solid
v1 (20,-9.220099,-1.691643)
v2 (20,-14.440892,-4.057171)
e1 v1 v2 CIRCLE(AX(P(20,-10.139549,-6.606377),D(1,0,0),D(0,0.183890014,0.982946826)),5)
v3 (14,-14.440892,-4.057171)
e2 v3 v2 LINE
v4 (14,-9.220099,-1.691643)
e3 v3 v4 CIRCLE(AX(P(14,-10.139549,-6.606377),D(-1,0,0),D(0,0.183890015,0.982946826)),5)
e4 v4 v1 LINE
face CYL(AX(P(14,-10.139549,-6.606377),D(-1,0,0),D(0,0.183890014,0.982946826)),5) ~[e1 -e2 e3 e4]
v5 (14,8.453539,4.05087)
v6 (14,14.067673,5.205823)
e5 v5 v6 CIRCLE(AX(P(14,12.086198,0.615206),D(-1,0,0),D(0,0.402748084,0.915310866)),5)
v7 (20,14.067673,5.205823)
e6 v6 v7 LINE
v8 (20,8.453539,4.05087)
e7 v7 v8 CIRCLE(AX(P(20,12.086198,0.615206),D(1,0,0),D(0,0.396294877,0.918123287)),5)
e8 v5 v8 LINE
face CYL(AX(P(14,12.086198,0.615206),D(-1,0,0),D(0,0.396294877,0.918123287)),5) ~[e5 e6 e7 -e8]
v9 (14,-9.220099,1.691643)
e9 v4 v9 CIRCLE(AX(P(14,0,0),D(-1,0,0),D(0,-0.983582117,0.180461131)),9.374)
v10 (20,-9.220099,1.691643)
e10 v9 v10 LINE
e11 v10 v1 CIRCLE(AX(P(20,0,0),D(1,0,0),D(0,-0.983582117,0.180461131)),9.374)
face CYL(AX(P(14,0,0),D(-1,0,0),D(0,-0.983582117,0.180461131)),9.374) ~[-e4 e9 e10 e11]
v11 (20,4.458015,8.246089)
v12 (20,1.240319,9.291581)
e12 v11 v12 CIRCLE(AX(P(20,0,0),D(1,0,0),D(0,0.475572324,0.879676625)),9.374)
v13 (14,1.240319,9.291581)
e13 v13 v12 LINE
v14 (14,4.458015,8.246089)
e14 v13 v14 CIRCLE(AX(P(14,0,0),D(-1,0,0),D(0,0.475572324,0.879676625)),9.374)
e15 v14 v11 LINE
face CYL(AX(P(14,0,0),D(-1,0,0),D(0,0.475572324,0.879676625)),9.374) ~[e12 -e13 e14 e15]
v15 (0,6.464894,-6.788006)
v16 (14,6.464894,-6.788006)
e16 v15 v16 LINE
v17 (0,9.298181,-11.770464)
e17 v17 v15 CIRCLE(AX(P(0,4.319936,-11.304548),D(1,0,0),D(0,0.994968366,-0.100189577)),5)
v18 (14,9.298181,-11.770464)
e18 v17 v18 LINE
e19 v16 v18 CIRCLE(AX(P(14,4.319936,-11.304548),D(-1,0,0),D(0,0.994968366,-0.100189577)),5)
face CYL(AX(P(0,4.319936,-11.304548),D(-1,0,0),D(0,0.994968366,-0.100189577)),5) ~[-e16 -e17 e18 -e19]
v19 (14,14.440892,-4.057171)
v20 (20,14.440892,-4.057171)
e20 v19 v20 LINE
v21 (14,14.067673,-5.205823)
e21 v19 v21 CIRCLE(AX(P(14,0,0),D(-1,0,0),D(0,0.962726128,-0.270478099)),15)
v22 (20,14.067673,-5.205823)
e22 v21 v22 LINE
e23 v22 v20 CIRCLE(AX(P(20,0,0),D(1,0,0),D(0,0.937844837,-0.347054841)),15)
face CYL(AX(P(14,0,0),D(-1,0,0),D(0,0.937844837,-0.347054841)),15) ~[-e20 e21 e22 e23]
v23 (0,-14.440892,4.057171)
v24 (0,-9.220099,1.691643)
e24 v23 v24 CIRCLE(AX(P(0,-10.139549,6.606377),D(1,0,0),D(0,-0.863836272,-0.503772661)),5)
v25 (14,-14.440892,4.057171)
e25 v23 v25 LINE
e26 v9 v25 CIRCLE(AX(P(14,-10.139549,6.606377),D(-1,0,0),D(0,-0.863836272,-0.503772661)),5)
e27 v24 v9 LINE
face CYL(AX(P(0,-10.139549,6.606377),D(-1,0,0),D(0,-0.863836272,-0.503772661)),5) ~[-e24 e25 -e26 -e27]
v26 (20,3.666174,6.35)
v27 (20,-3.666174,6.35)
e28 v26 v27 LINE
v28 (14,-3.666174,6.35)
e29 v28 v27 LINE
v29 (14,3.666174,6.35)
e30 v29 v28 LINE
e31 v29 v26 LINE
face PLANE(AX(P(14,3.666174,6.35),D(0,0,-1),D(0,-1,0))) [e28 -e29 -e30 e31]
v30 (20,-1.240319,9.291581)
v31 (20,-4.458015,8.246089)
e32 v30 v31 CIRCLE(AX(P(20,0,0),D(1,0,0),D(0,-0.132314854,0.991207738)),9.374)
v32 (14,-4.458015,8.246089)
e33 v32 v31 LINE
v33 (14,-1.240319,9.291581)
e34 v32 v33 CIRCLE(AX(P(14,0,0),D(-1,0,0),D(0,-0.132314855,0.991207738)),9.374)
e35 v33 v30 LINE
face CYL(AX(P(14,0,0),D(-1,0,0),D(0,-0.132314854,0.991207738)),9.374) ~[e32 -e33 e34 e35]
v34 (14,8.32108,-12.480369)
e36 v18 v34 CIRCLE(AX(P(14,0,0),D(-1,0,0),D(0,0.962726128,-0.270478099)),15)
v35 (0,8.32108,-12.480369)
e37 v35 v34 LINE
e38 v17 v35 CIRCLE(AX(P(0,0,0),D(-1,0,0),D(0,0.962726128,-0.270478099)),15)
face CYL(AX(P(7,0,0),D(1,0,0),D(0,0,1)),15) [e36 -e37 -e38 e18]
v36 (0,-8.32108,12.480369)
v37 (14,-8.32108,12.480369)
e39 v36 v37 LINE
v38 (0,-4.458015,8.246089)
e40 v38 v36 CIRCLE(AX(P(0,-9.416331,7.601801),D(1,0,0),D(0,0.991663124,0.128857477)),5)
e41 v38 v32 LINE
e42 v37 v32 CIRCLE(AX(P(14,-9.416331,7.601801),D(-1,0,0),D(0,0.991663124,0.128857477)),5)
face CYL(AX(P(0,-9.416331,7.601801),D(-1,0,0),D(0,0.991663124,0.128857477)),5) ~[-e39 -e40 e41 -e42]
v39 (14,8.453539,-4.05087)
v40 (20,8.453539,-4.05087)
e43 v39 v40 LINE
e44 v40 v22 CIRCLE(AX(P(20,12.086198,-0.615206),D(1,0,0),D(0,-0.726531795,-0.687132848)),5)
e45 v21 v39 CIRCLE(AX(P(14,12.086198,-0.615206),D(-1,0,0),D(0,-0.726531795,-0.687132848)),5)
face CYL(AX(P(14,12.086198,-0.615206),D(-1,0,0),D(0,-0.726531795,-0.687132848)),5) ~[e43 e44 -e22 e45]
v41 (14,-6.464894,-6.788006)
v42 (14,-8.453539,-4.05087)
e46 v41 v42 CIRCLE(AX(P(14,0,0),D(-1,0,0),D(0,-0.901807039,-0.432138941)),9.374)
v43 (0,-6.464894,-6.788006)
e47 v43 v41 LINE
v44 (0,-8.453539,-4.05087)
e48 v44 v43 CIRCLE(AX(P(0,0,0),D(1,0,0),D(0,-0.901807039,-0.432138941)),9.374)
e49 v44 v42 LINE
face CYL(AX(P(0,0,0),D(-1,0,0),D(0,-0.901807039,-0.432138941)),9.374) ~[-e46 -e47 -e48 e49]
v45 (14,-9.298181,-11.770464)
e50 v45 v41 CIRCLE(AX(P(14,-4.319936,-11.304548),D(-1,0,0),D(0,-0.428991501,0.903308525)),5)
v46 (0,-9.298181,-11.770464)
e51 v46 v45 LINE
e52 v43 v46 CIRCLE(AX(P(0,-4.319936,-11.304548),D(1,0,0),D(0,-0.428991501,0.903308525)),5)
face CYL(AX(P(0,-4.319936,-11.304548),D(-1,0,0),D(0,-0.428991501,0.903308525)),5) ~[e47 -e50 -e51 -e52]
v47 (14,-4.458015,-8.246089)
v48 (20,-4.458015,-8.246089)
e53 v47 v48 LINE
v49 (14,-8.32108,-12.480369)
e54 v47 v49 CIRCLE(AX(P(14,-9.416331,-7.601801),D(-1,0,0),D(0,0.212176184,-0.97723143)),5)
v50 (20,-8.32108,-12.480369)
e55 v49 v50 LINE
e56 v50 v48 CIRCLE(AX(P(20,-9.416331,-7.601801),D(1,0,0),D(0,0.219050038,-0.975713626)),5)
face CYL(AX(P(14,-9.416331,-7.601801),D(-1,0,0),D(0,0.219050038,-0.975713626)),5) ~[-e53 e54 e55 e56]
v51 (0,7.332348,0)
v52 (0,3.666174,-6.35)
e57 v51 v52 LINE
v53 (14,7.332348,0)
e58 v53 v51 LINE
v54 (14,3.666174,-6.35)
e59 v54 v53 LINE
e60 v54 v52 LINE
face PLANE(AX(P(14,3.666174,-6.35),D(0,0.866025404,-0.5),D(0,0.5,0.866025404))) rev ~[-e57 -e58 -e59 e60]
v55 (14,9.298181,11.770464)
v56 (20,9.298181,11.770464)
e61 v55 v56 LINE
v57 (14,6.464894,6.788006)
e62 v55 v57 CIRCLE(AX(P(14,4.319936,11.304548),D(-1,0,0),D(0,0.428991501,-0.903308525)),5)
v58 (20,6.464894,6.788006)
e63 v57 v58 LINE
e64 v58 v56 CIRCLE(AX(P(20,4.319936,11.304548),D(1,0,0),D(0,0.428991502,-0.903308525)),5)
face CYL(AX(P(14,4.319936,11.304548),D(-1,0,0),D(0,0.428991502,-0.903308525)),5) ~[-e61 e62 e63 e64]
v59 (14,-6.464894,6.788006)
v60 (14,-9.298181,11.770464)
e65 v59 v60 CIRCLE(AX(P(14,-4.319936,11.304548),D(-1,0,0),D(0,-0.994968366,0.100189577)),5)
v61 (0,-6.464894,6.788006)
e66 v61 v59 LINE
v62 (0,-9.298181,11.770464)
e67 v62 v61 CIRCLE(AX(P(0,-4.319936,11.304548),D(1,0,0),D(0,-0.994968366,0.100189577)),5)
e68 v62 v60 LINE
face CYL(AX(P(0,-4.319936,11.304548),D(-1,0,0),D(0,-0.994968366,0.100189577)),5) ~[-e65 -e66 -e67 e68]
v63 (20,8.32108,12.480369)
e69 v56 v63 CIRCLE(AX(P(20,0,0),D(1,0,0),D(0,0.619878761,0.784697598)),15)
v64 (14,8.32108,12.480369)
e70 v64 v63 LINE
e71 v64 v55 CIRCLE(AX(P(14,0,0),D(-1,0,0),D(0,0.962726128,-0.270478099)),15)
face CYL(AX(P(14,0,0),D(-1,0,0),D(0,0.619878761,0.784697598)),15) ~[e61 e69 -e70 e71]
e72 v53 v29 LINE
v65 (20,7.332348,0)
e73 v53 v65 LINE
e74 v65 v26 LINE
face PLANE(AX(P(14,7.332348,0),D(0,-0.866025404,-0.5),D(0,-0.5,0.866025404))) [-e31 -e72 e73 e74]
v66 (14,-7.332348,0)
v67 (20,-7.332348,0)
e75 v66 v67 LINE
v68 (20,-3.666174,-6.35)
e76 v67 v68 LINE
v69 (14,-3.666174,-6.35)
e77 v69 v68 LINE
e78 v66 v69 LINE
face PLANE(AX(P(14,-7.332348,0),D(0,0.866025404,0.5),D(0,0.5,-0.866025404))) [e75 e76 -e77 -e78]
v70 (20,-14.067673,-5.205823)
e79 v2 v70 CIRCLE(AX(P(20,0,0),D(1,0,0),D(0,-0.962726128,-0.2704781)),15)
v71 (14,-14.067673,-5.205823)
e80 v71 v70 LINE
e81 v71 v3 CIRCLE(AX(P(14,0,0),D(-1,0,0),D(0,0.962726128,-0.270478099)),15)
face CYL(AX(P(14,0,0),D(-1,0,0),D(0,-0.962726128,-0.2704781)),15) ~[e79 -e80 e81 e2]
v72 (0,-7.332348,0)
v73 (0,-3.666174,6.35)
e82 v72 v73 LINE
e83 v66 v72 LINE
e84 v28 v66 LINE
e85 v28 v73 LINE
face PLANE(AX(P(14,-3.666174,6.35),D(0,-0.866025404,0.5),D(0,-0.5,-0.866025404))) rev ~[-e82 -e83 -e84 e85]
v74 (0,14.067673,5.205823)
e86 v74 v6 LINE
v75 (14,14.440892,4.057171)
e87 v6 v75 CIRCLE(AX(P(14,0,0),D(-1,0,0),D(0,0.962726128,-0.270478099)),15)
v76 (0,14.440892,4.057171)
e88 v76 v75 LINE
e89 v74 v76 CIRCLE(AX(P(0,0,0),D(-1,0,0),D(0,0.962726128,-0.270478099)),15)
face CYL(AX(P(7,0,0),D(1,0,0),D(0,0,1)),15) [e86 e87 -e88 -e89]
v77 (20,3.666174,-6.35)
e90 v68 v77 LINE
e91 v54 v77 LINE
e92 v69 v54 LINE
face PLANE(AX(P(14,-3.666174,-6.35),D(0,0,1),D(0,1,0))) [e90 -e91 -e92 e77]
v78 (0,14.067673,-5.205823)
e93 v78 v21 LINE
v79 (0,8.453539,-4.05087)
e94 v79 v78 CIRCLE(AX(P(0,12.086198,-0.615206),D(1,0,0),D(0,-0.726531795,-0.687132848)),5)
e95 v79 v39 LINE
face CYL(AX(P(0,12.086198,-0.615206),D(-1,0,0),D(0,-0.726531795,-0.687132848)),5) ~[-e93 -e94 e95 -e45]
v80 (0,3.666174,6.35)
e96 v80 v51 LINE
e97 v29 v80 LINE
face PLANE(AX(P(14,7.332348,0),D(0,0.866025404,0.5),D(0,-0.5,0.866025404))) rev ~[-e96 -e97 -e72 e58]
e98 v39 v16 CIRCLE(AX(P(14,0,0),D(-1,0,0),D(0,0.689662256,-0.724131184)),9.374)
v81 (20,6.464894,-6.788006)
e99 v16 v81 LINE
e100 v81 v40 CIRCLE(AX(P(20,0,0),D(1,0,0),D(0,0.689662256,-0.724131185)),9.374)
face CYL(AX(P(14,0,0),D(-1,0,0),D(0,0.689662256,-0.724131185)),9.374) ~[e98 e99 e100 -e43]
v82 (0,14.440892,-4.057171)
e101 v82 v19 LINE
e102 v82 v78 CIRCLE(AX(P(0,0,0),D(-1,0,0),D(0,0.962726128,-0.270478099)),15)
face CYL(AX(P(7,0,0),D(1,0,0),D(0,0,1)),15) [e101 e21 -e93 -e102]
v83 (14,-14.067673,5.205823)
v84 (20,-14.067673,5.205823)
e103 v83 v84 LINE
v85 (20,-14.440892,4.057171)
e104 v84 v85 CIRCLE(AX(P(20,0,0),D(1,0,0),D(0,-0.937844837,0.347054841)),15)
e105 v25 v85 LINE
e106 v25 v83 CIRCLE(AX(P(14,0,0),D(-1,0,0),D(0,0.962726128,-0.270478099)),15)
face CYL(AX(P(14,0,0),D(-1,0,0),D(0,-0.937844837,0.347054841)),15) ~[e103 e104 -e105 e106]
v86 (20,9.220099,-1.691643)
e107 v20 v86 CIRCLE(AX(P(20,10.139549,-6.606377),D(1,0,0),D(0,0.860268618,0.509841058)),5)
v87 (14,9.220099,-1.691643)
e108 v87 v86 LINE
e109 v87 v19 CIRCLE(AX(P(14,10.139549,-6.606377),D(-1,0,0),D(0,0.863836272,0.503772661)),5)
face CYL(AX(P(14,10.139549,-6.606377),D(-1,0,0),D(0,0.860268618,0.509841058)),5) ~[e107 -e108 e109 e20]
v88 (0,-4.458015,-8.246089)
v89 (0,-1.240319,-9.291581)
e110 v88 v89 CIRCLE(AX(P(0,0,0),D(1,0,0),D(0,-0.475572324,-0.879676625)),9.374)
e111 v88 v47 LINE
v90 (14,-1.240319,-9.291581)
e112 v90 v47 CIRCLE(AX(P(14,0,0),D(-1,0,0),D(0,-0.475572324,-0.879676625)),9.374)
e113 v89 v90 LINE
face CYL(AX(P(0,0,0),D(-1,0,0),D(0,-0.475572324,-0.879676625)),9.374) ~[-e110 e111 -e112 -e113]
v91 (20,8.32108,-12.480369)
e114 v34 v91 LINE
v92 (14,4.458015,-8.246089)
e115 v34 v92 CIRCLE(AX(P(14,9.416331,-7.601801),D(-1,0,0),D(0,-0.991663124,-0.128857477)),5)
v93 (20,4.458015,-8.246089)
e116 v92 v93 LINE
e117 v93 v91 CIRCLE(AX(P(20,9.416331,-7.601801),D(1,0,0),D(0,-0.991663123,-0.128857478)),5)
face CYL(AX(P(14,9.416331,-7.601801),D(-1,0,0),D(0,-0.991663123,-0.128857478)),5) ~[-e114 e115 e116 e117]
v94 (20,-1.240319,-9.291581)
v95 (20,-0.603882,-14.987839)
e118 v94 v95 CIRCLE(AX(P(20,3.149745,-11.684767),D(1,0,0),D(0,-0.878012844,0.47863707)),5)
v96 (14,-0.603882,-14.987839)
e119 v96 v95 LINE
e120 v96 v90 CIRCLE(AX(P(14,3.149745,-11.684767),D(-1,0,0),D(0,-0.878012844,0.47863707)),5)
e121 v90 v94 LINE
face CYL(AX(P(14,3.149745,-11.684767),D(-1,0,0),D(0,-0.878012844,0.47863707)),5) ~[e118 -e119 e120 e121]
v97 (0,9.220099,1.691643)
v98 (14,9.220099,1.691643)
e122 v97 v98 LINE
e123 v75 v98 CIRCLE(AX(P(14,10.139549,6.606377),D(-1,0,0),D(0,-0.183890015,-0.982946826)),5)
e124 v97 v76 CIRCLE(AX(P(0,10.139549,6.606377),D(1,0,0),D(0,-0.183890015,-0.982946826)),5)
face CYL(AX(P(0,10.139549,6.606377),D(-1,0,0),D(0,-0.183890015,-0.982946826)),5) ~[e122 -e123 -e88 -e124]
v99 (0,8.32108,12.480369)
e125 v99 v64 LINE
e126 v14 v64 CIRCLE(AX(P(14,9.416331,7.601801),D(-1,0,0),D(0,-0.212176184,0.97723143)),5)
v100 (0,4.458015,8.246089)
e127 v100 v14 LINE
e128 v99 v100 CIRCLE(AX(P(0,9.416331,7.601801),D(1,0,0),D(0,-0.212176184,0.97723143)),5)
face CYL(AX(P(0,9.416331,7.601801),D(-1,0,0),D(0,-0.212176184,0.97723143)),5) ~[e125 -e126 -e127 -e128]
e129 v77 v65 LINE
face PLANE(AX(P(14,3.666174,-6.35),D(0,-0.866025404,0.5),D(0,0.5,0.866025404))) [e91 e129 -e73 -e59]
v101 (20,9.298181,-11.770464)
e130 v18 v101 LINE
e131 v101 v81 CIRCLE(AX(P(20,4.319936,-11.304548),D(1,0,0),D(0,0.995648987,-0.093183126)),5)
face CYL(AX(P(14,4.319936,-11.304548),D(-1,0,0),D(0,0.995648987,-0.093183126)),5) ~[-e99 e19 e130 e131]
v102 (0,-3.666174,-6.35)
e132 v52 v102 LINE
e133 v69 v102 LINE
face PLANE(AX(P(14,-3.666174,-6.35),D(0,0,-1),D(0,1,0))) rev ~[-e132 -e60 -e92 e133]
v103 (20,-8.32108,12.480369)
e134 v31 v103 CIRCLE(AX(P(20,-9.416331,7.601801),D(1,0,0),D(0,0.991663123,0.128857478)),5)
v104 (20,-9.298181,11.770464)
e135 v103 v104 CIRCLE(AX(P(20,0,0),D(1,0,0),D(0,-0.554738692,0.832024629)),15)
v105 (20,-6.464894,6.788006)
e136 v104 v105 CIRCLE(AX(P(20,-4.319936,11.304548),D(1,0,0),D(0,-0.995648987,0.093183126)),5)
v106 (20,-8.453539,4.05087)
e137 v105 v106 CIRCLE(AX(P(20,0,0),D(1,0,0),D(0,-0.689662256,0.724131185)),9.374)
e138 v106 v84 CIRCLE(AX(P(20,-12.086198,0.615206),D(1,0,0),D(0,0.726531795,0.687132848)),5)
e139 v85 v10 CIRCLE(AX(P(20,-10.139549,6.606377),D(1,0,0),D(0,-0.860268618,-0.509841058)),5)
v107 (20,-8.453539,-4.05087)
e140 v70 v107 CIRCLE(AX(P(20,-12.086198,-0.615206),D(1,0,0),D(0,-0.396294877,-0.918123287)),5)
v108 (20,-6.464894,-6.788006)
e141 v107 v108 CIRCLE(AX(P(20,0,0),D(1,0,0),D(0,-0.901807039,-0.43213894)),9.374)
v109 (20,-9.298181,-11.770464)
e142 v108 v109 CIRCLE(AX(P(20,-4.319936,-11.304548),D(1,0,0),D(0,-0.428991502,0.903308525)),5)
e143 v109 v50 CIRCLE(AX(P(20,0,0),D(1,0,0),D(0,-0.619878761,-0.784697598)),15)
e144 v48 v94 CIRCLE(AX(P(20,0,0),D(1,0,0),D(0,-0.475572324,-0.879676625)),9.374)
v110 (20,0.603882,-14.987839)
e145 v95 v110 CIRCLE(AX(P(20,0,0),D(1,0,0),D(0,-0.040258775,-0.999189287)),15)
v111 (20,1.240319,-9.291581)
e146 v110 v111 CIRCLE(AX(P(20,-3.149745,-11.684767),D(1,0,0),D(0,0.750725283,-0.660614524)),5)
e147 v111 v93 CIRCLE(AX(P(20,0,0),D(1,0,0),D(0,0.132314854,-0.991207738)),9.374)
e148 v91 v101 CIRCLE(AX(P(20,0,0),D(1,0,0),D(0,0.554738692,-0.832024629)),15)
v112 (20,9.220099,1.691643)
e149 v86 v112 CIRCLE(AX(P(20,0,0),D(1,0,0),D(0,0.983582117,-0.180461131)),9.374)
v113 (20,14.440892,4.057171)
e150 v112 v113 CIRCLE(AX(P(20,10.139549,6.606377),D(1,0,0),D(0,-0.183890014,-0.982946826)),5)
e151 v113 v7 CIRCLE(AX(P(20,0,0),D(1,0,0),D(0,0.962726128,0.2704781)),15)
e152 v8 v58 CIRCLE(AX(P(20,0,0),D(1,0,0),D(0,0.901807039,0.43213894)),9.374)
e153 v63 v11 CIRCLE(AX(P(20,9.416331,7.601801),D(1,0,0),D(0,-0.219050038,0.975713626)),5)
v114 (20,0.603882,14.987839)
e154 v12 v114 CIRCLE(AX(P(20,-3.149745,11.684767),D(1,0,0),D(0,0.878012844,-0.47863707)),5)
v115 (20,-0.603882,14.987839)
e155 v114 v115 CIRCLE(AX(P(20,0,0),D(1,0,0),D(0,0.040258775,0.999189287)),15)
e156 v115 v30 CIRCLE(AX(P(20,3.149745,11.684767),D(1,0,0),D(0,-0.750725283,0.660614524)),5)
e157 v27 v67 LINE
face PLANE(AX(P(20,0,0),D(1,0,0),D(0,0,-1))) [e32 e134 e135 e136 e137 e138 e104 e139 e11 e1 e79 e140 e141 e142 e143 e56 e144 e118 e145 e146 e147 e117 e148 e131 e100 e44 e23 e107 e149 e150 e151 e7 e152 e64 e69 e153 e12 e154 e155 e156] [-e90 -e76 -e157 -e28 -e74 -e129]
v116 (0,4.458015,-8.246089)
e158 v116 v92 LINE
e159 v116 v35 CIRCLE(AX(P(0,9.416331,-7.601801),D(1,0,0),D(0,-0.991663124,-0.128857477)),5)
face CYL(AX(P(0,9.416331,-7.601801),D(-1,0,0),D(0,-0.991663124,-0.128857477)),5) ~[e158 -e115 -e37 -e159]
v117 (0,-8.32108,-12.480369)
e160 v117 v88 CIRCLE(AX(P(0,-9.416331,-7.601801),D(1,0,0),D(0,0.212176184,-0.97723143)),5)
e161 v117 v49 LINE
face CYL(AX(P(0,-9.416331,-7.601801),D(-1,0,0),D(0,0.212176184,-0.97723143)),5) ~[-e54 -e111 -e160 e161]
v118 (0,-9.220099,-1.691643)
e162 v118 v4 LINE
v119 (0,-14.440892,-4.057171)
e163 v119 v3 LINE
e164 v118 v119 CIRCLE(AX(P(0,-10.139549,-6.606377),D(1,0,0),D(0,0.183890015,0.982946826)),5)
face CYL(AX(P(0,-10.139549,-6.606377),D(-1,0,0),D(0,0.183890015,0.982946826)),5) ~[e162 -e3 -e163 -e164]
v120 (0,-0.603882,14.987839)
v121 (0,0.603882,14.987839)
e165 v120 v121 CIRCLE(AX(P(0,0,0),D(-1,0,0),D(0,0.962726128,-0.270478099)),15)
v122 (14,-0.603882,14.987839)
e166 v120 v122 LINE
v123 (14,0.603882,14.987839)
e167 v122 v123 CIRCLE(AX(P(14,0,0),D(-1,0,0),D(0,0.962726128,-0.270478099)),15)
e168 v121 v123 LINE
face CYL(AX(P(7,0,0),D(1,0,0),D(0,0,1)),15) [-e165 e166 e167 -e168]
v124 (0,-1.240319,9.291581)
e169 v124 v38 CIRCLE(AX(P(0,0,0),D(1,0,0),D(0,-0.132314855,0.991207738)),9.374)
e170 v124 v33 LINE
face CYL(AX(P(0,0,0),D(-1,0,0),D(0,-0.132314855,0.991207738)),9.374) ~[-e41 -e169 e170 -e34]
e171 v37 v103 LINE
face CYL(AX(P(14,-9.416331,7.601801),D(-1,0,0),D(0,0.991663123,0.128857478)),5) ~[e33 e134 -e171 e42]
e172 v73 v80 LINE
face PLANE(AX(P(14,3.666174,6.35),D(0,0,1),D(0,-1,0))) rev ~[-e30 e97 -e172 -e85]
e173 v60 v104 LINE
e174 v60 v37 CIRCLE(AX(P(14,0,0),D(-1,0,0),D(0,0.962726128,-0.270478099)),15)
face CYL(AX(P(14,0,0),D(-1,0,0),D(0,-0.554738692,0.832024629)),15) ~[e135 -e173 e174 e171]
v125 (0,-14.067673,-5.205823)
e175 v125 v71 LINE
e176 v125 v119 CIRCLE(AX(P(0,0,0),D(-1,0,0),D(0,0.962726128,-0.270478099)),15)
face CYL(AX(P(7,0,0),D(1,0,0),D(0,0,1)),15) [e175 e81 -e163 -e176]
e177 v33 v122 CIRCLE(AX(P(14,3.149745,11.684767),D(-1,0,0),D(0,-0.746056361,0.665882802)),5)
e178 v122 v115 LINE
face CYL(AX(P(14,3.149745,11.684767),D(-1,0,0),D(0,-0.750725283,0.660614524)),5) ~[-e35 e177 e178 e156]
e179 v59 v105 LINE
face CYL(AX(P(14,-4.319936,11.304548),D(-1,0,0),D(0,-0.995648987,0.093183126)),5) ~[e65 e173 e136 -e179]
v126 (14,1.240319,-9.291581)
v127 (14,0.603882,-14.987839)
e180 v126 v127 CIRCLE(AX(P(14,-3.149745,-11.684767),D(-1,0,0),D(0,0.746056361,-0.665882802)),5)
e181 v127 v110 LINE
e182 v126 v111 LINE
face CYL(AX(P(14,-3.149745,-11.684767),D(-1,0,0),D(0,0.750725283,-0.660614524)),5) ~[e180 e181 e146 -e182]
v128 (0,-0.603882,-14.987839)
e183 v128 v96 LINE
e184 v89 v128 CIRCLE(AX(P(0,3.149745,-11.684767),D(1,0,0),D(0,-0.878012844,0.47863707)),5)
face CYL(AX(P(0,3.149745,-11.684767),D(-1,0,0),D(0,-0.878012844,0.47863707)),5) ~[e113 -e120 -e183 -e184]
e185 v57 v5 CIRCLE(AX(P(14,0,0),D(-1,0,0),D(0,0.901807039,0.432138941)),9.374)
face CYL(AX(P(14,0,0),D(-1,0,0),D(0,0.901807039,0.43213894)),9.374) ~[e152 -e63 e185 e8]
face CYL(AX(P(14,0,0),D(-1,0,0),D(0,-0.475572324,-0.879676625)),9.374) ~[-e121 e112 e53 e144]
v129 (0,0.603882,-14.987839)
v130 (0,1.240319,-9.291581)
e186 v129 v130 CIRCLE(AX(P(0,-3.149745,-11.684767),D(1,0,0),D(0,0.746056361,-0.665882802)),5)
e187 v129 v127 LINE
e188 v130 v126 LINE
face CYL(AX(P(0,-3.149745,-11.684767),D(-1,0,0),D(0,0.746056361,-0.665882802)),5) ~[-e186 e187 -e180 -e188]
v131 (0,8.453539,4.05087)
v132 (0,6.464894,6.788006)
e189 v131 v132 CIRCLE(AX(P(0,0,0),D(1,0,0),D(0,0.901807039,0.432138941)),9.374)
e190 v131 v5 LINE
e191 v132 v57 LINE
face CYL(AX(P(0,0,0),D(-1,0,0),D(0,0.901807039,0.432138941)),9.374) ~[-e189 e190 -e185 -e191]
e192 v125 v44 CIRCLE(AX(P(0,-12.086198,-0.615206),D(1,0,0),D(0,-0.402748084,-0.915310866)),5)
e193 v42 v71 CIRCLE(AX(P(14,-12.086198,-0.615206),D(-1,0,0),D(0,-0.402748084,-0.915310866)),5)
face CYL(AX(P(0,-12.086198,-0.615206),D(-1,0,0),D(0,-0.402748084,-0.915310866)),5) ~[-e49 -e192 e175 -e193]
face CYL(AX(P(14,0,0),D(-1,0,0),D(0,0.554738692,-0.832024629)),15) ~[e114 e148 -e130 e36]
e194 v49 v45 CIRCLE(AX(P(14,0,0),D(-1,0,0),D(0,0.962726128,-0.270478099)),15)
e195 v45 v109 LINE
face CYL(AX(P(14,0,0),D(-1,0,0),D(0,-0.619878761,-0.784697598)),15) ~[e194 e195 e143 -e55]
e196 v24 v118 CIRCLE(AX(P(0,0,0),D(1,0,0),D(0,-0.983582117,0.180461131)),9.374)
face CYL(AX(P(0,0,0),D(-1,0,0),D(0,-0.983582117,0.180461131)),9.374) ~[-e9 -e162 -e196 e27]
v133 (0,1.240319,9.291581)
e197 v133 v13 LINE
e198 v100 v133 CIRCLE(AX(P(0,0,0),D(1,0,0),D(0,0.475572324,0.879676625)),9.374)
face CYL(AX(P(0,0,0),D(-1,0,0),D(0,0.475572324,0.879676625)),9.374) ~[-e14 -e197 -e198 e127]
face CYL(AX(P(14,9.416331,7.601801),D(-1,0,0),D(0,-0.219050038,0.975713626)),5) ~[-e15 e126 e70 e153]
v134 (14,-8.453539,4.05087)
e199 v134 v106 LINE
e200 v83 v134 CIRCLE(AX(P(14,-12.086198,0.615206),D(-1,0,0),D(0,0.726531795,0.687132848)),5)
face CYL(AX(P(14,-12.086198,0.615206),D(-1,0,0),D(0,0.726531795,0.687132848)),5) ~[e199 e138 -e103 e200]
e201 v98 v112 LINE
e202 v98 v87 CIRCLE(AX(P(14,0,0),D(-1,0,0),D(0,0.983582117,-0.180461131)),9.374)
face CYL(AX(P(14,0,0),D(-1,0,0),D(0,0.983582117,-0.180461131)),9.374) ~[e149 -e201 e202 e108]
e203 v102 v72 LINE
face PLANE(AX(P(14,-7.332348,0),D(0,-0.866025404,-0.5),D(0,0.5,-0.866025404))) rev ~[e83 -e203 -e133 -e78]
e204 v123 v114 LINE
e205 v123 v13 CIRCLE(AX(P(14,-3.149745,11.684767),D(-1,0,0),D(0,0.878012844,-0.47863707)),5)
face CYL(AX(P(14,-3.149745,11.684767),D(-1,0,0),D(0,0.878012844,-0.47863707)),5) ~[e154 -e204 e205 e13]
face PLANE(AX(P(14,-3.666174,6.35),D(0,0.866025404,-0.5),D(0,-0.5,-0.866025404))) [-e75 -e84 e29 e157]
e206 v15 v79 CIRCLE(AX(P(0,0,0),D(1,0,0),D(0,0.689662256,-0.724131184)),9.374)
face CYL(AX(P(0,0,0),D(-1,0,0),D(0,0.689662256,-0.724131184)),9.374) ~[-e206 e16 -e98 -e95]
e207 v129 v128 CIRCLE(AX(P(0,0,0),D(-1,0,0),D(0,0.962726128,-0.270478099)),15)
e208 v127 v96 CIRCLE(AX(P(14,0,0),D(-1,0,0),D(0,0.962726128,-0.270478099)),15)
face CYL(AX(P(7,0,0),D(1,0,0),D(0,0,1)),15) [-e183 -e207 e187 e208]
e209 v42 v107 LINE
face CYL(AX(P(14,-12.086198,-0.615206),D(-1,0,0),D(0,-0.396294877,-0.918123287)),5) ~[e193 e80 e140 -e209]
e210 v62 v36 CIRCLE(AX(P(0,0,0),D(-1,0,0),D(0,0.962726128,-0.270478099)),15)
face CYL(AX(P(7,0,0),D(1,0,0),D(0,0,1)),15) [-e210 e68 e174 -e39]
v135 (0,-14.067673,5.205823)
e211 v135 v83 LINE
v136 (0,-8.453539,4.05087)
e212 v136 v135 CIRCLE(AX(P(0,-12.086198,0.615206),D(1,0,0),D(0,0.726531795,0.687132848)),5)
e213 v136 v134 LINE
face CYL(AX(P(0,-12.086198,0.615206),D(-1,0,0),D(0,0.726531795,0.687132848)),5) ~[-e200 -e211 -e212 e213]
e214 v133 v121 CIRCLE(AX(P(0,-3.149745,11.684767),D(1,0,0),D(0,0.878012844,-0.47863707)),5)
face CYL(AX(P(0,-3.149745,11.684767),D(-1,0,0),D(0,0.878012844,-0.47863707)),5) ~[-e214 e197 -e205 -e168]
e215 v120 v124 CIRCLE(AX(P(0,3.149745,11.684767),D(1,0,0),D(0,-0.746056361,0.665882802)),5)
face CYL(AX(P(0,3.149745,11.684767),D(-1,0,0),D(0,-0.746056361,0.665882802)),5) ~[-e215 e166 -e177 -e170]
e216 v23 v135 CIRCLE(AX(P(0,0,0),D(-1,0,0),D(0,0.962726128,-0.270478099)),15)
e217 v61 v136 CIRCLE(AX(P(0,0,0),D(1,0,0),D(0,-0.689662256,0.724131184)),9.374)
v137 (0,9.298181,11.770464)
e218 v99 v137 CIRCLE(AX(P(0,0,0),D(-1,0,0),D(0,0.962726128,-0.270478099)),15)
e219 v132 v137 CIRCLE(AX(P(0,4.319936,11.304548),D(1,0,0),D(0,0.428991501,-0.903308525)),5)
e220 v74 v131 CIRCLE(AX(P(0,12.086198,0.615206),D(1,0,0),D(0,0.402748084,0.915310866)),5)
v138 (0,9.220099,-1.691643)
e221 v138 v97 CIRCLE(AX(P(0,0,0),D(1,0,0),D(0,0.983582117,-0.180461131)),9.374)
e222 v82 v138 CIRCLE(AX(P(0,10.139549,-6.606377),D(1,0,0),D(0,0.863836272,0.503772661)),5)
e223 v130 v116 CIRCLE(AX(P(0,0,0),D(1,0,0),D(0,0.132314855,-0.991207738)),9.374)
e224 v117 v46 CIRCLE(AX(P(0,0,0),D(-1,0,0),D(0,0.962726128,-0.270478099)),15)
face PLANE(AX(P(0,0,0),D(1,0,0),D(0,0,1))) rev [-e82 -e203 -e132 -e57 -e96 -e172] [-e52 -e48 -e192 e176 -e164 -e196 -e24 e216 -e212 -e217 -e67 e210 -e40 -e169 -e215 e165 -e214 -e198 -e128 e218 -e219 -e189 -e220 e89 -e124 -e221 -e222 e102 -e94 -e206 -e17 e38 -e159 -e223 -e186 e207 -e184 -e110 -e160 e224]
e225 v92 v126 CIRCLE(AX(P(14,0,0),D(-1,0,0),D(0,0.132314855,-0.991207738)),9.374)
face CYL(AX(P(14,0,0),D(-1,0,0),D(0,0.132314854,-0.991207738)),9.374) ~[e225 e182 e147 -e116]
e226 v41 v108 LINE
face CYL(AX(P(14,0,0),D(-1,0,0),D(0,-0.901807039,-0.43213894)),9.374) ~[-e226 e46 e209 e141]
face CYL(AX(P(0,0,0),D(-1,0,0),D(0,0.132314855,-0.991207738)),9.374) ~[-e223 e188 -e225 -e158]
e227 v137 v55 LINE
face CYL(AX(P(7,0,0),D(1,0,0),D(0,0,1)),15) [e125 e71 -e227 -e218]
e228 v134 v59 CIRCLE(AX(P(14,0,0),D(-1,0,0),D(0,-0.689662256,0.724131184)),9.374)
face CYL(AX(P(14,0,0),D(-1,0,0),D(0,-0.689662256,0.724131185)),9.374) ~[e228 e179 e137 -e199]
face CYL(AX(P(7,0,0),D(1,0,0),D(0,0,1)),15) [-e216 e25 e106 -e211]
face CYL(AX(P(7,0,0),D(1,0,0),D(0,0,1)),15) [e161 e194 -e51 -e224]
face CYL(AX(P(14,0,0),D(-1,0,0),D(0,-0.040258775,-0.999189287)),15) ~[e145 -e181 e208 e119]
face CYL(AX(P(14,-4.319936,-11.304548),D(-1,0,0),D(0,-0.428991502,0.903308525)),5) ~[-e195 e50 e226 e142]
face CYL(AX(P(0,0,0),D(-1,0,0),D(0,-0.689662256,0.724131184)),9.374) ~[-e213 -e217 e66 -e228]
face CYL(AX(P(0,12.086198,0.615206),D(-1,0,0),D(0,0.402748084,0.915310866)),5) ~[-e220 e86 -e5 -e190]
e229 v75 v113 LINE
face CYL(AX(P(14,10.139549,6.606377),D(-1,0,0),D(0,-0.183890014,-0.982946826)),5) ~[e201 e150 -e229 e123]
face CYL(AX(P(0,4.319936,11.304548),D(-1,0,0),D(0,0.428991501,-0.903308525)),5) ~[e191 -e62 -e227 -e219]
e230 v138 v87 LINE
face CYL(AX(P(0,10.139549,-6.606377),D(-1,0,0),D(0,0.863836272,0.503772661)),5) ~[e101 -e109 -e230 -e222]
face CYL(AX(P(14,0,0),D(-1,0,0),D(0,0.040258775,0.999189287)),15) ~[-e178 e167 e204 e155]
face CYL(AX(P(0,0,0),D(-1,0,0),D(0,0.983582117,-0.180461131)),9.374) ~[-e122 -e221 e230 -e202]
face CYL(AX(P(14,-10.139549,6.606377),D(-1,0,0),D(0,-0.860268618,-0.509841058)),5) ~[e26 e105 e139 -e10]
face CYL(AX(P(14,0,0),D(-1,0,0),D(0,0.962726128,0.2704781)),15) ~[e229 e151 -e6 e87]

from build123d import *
from build123d.topology import SkipClean

# Parameters (mm, degrees)
BASPROSKE_W         = 14
BASPROSKE_H         = 15
TOOTHCUT_DEPTH      = 26.416530054
TEETHCUTS_COUNT     = 10
TEETHCUTS_ANGLE     = 324
BORSKE_R            = 5
BORE_DEPTH          = 50.0005588
CUT_EXTRUDE1_DEPTH  = 26.09062294
BOSS_EXTRUDE1_DEPTH = 6


with BuildPart() as part:
    # BasProSke → Base-Revolve (revolve)
    with BuildSketch(Plane(origin=(0, 0, 0), x_dir=(1, 0, 0), z_dir=(0, 1, 0)), mode=Mode.PRIVATE) as base_revolve_sk:
        with Locations((7, 7.5)):
            Rectangle(BASPROSKE_W, BASPROSKE_H)
    revolve(base_revolve_sk.sketch.rotate(Axis((-10, 0, 0), (1, 0, 0)), 180), axis=Axis((-10, 0, 0), (1, 0, 0)))

    # TooCutSke → ToothCut (cut, through all)
    with BuildSketch(Plane(origin=(0, 0, 0), x_dir=(0, 0, -1), z_dir=(1, 0, 0))):
        with BuildLine():
            ThreePointArc((1.691642647, 9.220098761), (0, 9.374), (-1.691642647, 9.220098761))
            ThreePointArc((-1.691642647, 9.220098761), (-2.059354944, 12.219114282), (-4.087513468, 14.458730194))
            ThreePointArc((-4.087513468, 14.458730194), (0, 15.0254), (4.087513468, 14.458730194))
            ThreePointArc((4.087513468, 14.458730194), (2.059354944, 12.219114282), (1.691642647, 9.220098761))
        make_face()
    toothcut = extrude(amount=TOOTHCUT_DEPTH, mode=Mode.SUBTRACT)

    # TeethCuts: ToothCut ×10 about axis
    teethcuts_axis = Axis((-10, 0, 0), (1, 0, 0))
    for i in range(1, TEETHCUTS_COUNT):
        add(toothcut.rotate(teethcuts_axis, i * TEETHCUTS_ANGLE / (TEETHCUTS_COUNT - 1)), mode=Mode.SUBTRACT)

    # BorSke → Bore (cut, symmetric)
    with BuildSketch(Plane(origin=(0, 0, 0), x_dir=(0, 0, -1), z_dir=(1, 0, 0))):
        with Locations(Location((0, 0, 0), (0, 0, 180))):
            Circle(BORSKE_R)
    extrude(amount=BORE_DEPTH, both=True, mode=Mode.SUBTRACT)

    # Sketch1 → Cut-Extrude1 (cut, through all)
    with BuildSketch(Plane(origin=(14, 0, 0), x_dir=(0, 0, -1), z_dir=(1, 0, 0))):
        Polygon((0, -7.332348419), (6.35, -3.666174209), (6.35, 3.666174209), (0, 7.332348419), (-6.35, 3.666174209), (-6.35, -3.666174209), align=None)
    extrude(amount=-CUT_EXTRUDE1_DEPTH, mode=Mode.SUBTRACT)

    # Sketch2 → Boss-Extrude1 (add)
    with SkipClean():  # the faces are left unmerged after this step: merging them gives an invalid solid
        with BuildSketch(Plane(origin=(14, 0, 0), x_dir=(0, 0, -1), z_dir=(1, 0, 0))):
            with BuildLine():
                ThreePointArc((14.987839303, -0.603881639), (15, 0), (14.987839303, 0.603881639))
                ThreePointArc((14.987839303, 0.603881639), (12.239957624, 1.819335924), (9.291581333, 1.240319444))
                ThreePointArc((9.291581333, 1.240319444), (8.915203784, 2.896725305), (8.246088681, 4.45801497))
                ThreePointArc((8.246088681, 4.45801497), (10.971712553, 5.7225929), (12.480369426, 8.321080397))
                ThreePointArc((12.480369426, 8.321080397), (12.135254916, 8.816778784), (11.770463983, 9.298181415))
                ThreePointArc((11.770463983, 9.298181415), (8.832954904, 8.666340261), (6.788005726, 6.464893987))
                ThreePointArc((6.788005726, 6.464893987), (5.509898955, 7.583725305), (4.050870426, 8.453539187))
                ThreePointArc((4.050870426, 8.453539187), (5.512646202, 11.078685739), (5.205822621, 14.067672545))
                ThreePointArc((5.205822621, 14.067672545), (4.635254916, 14.265847744), (4.057171486, 14.440891923))
                ThreePointArc((4.057171486, 14.440891923), (2.052063631, 12.203097177), (1.691642647, 9.220098761))
                ThreePointArc((1.691642647, 9.220098761), (0, 9.374), (-1.691642647, 9.220098761))
                ThreePointArc((-1.691642647, 9.220098761), (-2.052063631, 12.203097177), (-4.057171486, 14.440891923))
                ThreePointArc((-4.057171486, 14.440891923), (-4.635254916, 14.265847744), (-5.205822621, 14.067672545))
                ThreePointArc((-5.205822621, 14.067672545), (-5.512646202, 11.078685739), (-4.050870426, 8.453539187))
                ThreePointArc((-4.050870426, 8.453539187), (-5.509898955, 7.583725305), (-6.788005726, 6.464893987))
                ThreePointArc((-6.788005726, 6.464893987), (-8.832954904, 8.666340261), (-11.770463983, 9.298181415))
                ThreePointArc((-11.770463983, 9.298181415), (-12.135254916, 8.816778784), (-12.480369426, 8.321080397))
                ThreePointArc((-12.480369426, 8.321080397), (-10.971712553, 5.7225929), (-8.246088681, 4.45801497))
                ThreePointArc((-8.246088681, 4.45801497), (-8.915203784, 2.896725305), (-9.291581333, 1.240319444))
                ThreePointArc((-9.291581333, 1.240319444), (-12.239957624, 1.819335924), (-14.987839303, 0.603881639))
                ThreePointArc((-14.987839303, 0.603881639), (-15, 0), (-14.987839303, -0.603881639))
                ThreePointArc((-14.987839303, -0.603881639), (-12.239957624, -1.819335924), (-9.291581333, -1.240319444))
                ThreePointArc((-9.291581333, -1.240319444), (-8.915203784, -2.896725305), (-8.246088681, -4.45801497))
                ThreePointArc((-8.246088681, -4.45801497), (-10.971712553, -5.7225929), (-12.480369426, -8.321080397))
                ThreePointArc((-12.480369426, -8.321080397), (-12.135254916, -8.816778784), (-11.770463983, -9.298181415))
                ThreePointArc((-11.770463983, -9.298181415), (-8.832954904, -8.666340261), (-6.788005726, -6.464893987))
                ThreePointArc((-6.788005726, -6.464893987), (-5.509898955, -7.583725305), (-4.050870426, -8.453539187))
                ThreePointArc((-4.050870426, -8.453539187), (-5.512646202, -11.078685739), (-5.205822621, -14.067672545))
                ThreePointArc((-5.205822621, -14.067672545), (-4.635254916, -14.265847744), (-4.057171486, -14.440891923))
                ThreePointArc((-4.057171486, -14.440891923), (-2.052063631, -12.203097177), (-1.691642647, -9.220098761))
                ThreePointArc((-1.691642647, -9.220098761), (0, -9.374), (1.691642647, -9.220098761))
                ThreePointArc((1.691642647, -9.220098761), (2.052063631, -12.203097177), (4.057171486, -14.440891923))
                ThreePointArc((4.057171486, -14.440891923), (4.635254916, -14.265847744), (5.205822621, -14.067672545))
                ThreePointArc((5.205822621, -14.067672545), (5.512646202, -11.078685739), (4.050870426, -8.453539187))
                ThreePointArc((4.050870426, -8.453539187), (5.509898955, -7.583725305), (6.788005726, -6.464893987))
                ThreePointArc((6.788005726, -6.464893987), (8.832954904, -8.666340261), (11.770463983, -9.298181415))
                ThreePointArc((11.770463983, -9.298181415), (12.135254916, -8.816778784), (12.480369426, -8.321080397))
                ThreePointArc((12.480369426, -8.321080397), (10.971712553, -5.7225929), (8.246088681, -4.45801497))
                ThreePointArc((8.246088681, -4.45801497), (8.915203784, -2.896725305), (9.291581333, -1.240319444))
                ThreePointArc((9.291581333, -1.240319444), (12.239957624, -1.819335924), (14.987839303, -0.603881639))
            make_face()
            Polygon((-6.35, -3.666174209), (0, -7.332348419), (6.35, -3.666174209), (6.35, 3.666174209), (0, 7.332348419), (-6.35, 3.666174209), align=None, mode=Mode.SUBTRACT)
        extrude(amount=BOSS_EXTRUDE1_DEPTH)


solid = part.part
